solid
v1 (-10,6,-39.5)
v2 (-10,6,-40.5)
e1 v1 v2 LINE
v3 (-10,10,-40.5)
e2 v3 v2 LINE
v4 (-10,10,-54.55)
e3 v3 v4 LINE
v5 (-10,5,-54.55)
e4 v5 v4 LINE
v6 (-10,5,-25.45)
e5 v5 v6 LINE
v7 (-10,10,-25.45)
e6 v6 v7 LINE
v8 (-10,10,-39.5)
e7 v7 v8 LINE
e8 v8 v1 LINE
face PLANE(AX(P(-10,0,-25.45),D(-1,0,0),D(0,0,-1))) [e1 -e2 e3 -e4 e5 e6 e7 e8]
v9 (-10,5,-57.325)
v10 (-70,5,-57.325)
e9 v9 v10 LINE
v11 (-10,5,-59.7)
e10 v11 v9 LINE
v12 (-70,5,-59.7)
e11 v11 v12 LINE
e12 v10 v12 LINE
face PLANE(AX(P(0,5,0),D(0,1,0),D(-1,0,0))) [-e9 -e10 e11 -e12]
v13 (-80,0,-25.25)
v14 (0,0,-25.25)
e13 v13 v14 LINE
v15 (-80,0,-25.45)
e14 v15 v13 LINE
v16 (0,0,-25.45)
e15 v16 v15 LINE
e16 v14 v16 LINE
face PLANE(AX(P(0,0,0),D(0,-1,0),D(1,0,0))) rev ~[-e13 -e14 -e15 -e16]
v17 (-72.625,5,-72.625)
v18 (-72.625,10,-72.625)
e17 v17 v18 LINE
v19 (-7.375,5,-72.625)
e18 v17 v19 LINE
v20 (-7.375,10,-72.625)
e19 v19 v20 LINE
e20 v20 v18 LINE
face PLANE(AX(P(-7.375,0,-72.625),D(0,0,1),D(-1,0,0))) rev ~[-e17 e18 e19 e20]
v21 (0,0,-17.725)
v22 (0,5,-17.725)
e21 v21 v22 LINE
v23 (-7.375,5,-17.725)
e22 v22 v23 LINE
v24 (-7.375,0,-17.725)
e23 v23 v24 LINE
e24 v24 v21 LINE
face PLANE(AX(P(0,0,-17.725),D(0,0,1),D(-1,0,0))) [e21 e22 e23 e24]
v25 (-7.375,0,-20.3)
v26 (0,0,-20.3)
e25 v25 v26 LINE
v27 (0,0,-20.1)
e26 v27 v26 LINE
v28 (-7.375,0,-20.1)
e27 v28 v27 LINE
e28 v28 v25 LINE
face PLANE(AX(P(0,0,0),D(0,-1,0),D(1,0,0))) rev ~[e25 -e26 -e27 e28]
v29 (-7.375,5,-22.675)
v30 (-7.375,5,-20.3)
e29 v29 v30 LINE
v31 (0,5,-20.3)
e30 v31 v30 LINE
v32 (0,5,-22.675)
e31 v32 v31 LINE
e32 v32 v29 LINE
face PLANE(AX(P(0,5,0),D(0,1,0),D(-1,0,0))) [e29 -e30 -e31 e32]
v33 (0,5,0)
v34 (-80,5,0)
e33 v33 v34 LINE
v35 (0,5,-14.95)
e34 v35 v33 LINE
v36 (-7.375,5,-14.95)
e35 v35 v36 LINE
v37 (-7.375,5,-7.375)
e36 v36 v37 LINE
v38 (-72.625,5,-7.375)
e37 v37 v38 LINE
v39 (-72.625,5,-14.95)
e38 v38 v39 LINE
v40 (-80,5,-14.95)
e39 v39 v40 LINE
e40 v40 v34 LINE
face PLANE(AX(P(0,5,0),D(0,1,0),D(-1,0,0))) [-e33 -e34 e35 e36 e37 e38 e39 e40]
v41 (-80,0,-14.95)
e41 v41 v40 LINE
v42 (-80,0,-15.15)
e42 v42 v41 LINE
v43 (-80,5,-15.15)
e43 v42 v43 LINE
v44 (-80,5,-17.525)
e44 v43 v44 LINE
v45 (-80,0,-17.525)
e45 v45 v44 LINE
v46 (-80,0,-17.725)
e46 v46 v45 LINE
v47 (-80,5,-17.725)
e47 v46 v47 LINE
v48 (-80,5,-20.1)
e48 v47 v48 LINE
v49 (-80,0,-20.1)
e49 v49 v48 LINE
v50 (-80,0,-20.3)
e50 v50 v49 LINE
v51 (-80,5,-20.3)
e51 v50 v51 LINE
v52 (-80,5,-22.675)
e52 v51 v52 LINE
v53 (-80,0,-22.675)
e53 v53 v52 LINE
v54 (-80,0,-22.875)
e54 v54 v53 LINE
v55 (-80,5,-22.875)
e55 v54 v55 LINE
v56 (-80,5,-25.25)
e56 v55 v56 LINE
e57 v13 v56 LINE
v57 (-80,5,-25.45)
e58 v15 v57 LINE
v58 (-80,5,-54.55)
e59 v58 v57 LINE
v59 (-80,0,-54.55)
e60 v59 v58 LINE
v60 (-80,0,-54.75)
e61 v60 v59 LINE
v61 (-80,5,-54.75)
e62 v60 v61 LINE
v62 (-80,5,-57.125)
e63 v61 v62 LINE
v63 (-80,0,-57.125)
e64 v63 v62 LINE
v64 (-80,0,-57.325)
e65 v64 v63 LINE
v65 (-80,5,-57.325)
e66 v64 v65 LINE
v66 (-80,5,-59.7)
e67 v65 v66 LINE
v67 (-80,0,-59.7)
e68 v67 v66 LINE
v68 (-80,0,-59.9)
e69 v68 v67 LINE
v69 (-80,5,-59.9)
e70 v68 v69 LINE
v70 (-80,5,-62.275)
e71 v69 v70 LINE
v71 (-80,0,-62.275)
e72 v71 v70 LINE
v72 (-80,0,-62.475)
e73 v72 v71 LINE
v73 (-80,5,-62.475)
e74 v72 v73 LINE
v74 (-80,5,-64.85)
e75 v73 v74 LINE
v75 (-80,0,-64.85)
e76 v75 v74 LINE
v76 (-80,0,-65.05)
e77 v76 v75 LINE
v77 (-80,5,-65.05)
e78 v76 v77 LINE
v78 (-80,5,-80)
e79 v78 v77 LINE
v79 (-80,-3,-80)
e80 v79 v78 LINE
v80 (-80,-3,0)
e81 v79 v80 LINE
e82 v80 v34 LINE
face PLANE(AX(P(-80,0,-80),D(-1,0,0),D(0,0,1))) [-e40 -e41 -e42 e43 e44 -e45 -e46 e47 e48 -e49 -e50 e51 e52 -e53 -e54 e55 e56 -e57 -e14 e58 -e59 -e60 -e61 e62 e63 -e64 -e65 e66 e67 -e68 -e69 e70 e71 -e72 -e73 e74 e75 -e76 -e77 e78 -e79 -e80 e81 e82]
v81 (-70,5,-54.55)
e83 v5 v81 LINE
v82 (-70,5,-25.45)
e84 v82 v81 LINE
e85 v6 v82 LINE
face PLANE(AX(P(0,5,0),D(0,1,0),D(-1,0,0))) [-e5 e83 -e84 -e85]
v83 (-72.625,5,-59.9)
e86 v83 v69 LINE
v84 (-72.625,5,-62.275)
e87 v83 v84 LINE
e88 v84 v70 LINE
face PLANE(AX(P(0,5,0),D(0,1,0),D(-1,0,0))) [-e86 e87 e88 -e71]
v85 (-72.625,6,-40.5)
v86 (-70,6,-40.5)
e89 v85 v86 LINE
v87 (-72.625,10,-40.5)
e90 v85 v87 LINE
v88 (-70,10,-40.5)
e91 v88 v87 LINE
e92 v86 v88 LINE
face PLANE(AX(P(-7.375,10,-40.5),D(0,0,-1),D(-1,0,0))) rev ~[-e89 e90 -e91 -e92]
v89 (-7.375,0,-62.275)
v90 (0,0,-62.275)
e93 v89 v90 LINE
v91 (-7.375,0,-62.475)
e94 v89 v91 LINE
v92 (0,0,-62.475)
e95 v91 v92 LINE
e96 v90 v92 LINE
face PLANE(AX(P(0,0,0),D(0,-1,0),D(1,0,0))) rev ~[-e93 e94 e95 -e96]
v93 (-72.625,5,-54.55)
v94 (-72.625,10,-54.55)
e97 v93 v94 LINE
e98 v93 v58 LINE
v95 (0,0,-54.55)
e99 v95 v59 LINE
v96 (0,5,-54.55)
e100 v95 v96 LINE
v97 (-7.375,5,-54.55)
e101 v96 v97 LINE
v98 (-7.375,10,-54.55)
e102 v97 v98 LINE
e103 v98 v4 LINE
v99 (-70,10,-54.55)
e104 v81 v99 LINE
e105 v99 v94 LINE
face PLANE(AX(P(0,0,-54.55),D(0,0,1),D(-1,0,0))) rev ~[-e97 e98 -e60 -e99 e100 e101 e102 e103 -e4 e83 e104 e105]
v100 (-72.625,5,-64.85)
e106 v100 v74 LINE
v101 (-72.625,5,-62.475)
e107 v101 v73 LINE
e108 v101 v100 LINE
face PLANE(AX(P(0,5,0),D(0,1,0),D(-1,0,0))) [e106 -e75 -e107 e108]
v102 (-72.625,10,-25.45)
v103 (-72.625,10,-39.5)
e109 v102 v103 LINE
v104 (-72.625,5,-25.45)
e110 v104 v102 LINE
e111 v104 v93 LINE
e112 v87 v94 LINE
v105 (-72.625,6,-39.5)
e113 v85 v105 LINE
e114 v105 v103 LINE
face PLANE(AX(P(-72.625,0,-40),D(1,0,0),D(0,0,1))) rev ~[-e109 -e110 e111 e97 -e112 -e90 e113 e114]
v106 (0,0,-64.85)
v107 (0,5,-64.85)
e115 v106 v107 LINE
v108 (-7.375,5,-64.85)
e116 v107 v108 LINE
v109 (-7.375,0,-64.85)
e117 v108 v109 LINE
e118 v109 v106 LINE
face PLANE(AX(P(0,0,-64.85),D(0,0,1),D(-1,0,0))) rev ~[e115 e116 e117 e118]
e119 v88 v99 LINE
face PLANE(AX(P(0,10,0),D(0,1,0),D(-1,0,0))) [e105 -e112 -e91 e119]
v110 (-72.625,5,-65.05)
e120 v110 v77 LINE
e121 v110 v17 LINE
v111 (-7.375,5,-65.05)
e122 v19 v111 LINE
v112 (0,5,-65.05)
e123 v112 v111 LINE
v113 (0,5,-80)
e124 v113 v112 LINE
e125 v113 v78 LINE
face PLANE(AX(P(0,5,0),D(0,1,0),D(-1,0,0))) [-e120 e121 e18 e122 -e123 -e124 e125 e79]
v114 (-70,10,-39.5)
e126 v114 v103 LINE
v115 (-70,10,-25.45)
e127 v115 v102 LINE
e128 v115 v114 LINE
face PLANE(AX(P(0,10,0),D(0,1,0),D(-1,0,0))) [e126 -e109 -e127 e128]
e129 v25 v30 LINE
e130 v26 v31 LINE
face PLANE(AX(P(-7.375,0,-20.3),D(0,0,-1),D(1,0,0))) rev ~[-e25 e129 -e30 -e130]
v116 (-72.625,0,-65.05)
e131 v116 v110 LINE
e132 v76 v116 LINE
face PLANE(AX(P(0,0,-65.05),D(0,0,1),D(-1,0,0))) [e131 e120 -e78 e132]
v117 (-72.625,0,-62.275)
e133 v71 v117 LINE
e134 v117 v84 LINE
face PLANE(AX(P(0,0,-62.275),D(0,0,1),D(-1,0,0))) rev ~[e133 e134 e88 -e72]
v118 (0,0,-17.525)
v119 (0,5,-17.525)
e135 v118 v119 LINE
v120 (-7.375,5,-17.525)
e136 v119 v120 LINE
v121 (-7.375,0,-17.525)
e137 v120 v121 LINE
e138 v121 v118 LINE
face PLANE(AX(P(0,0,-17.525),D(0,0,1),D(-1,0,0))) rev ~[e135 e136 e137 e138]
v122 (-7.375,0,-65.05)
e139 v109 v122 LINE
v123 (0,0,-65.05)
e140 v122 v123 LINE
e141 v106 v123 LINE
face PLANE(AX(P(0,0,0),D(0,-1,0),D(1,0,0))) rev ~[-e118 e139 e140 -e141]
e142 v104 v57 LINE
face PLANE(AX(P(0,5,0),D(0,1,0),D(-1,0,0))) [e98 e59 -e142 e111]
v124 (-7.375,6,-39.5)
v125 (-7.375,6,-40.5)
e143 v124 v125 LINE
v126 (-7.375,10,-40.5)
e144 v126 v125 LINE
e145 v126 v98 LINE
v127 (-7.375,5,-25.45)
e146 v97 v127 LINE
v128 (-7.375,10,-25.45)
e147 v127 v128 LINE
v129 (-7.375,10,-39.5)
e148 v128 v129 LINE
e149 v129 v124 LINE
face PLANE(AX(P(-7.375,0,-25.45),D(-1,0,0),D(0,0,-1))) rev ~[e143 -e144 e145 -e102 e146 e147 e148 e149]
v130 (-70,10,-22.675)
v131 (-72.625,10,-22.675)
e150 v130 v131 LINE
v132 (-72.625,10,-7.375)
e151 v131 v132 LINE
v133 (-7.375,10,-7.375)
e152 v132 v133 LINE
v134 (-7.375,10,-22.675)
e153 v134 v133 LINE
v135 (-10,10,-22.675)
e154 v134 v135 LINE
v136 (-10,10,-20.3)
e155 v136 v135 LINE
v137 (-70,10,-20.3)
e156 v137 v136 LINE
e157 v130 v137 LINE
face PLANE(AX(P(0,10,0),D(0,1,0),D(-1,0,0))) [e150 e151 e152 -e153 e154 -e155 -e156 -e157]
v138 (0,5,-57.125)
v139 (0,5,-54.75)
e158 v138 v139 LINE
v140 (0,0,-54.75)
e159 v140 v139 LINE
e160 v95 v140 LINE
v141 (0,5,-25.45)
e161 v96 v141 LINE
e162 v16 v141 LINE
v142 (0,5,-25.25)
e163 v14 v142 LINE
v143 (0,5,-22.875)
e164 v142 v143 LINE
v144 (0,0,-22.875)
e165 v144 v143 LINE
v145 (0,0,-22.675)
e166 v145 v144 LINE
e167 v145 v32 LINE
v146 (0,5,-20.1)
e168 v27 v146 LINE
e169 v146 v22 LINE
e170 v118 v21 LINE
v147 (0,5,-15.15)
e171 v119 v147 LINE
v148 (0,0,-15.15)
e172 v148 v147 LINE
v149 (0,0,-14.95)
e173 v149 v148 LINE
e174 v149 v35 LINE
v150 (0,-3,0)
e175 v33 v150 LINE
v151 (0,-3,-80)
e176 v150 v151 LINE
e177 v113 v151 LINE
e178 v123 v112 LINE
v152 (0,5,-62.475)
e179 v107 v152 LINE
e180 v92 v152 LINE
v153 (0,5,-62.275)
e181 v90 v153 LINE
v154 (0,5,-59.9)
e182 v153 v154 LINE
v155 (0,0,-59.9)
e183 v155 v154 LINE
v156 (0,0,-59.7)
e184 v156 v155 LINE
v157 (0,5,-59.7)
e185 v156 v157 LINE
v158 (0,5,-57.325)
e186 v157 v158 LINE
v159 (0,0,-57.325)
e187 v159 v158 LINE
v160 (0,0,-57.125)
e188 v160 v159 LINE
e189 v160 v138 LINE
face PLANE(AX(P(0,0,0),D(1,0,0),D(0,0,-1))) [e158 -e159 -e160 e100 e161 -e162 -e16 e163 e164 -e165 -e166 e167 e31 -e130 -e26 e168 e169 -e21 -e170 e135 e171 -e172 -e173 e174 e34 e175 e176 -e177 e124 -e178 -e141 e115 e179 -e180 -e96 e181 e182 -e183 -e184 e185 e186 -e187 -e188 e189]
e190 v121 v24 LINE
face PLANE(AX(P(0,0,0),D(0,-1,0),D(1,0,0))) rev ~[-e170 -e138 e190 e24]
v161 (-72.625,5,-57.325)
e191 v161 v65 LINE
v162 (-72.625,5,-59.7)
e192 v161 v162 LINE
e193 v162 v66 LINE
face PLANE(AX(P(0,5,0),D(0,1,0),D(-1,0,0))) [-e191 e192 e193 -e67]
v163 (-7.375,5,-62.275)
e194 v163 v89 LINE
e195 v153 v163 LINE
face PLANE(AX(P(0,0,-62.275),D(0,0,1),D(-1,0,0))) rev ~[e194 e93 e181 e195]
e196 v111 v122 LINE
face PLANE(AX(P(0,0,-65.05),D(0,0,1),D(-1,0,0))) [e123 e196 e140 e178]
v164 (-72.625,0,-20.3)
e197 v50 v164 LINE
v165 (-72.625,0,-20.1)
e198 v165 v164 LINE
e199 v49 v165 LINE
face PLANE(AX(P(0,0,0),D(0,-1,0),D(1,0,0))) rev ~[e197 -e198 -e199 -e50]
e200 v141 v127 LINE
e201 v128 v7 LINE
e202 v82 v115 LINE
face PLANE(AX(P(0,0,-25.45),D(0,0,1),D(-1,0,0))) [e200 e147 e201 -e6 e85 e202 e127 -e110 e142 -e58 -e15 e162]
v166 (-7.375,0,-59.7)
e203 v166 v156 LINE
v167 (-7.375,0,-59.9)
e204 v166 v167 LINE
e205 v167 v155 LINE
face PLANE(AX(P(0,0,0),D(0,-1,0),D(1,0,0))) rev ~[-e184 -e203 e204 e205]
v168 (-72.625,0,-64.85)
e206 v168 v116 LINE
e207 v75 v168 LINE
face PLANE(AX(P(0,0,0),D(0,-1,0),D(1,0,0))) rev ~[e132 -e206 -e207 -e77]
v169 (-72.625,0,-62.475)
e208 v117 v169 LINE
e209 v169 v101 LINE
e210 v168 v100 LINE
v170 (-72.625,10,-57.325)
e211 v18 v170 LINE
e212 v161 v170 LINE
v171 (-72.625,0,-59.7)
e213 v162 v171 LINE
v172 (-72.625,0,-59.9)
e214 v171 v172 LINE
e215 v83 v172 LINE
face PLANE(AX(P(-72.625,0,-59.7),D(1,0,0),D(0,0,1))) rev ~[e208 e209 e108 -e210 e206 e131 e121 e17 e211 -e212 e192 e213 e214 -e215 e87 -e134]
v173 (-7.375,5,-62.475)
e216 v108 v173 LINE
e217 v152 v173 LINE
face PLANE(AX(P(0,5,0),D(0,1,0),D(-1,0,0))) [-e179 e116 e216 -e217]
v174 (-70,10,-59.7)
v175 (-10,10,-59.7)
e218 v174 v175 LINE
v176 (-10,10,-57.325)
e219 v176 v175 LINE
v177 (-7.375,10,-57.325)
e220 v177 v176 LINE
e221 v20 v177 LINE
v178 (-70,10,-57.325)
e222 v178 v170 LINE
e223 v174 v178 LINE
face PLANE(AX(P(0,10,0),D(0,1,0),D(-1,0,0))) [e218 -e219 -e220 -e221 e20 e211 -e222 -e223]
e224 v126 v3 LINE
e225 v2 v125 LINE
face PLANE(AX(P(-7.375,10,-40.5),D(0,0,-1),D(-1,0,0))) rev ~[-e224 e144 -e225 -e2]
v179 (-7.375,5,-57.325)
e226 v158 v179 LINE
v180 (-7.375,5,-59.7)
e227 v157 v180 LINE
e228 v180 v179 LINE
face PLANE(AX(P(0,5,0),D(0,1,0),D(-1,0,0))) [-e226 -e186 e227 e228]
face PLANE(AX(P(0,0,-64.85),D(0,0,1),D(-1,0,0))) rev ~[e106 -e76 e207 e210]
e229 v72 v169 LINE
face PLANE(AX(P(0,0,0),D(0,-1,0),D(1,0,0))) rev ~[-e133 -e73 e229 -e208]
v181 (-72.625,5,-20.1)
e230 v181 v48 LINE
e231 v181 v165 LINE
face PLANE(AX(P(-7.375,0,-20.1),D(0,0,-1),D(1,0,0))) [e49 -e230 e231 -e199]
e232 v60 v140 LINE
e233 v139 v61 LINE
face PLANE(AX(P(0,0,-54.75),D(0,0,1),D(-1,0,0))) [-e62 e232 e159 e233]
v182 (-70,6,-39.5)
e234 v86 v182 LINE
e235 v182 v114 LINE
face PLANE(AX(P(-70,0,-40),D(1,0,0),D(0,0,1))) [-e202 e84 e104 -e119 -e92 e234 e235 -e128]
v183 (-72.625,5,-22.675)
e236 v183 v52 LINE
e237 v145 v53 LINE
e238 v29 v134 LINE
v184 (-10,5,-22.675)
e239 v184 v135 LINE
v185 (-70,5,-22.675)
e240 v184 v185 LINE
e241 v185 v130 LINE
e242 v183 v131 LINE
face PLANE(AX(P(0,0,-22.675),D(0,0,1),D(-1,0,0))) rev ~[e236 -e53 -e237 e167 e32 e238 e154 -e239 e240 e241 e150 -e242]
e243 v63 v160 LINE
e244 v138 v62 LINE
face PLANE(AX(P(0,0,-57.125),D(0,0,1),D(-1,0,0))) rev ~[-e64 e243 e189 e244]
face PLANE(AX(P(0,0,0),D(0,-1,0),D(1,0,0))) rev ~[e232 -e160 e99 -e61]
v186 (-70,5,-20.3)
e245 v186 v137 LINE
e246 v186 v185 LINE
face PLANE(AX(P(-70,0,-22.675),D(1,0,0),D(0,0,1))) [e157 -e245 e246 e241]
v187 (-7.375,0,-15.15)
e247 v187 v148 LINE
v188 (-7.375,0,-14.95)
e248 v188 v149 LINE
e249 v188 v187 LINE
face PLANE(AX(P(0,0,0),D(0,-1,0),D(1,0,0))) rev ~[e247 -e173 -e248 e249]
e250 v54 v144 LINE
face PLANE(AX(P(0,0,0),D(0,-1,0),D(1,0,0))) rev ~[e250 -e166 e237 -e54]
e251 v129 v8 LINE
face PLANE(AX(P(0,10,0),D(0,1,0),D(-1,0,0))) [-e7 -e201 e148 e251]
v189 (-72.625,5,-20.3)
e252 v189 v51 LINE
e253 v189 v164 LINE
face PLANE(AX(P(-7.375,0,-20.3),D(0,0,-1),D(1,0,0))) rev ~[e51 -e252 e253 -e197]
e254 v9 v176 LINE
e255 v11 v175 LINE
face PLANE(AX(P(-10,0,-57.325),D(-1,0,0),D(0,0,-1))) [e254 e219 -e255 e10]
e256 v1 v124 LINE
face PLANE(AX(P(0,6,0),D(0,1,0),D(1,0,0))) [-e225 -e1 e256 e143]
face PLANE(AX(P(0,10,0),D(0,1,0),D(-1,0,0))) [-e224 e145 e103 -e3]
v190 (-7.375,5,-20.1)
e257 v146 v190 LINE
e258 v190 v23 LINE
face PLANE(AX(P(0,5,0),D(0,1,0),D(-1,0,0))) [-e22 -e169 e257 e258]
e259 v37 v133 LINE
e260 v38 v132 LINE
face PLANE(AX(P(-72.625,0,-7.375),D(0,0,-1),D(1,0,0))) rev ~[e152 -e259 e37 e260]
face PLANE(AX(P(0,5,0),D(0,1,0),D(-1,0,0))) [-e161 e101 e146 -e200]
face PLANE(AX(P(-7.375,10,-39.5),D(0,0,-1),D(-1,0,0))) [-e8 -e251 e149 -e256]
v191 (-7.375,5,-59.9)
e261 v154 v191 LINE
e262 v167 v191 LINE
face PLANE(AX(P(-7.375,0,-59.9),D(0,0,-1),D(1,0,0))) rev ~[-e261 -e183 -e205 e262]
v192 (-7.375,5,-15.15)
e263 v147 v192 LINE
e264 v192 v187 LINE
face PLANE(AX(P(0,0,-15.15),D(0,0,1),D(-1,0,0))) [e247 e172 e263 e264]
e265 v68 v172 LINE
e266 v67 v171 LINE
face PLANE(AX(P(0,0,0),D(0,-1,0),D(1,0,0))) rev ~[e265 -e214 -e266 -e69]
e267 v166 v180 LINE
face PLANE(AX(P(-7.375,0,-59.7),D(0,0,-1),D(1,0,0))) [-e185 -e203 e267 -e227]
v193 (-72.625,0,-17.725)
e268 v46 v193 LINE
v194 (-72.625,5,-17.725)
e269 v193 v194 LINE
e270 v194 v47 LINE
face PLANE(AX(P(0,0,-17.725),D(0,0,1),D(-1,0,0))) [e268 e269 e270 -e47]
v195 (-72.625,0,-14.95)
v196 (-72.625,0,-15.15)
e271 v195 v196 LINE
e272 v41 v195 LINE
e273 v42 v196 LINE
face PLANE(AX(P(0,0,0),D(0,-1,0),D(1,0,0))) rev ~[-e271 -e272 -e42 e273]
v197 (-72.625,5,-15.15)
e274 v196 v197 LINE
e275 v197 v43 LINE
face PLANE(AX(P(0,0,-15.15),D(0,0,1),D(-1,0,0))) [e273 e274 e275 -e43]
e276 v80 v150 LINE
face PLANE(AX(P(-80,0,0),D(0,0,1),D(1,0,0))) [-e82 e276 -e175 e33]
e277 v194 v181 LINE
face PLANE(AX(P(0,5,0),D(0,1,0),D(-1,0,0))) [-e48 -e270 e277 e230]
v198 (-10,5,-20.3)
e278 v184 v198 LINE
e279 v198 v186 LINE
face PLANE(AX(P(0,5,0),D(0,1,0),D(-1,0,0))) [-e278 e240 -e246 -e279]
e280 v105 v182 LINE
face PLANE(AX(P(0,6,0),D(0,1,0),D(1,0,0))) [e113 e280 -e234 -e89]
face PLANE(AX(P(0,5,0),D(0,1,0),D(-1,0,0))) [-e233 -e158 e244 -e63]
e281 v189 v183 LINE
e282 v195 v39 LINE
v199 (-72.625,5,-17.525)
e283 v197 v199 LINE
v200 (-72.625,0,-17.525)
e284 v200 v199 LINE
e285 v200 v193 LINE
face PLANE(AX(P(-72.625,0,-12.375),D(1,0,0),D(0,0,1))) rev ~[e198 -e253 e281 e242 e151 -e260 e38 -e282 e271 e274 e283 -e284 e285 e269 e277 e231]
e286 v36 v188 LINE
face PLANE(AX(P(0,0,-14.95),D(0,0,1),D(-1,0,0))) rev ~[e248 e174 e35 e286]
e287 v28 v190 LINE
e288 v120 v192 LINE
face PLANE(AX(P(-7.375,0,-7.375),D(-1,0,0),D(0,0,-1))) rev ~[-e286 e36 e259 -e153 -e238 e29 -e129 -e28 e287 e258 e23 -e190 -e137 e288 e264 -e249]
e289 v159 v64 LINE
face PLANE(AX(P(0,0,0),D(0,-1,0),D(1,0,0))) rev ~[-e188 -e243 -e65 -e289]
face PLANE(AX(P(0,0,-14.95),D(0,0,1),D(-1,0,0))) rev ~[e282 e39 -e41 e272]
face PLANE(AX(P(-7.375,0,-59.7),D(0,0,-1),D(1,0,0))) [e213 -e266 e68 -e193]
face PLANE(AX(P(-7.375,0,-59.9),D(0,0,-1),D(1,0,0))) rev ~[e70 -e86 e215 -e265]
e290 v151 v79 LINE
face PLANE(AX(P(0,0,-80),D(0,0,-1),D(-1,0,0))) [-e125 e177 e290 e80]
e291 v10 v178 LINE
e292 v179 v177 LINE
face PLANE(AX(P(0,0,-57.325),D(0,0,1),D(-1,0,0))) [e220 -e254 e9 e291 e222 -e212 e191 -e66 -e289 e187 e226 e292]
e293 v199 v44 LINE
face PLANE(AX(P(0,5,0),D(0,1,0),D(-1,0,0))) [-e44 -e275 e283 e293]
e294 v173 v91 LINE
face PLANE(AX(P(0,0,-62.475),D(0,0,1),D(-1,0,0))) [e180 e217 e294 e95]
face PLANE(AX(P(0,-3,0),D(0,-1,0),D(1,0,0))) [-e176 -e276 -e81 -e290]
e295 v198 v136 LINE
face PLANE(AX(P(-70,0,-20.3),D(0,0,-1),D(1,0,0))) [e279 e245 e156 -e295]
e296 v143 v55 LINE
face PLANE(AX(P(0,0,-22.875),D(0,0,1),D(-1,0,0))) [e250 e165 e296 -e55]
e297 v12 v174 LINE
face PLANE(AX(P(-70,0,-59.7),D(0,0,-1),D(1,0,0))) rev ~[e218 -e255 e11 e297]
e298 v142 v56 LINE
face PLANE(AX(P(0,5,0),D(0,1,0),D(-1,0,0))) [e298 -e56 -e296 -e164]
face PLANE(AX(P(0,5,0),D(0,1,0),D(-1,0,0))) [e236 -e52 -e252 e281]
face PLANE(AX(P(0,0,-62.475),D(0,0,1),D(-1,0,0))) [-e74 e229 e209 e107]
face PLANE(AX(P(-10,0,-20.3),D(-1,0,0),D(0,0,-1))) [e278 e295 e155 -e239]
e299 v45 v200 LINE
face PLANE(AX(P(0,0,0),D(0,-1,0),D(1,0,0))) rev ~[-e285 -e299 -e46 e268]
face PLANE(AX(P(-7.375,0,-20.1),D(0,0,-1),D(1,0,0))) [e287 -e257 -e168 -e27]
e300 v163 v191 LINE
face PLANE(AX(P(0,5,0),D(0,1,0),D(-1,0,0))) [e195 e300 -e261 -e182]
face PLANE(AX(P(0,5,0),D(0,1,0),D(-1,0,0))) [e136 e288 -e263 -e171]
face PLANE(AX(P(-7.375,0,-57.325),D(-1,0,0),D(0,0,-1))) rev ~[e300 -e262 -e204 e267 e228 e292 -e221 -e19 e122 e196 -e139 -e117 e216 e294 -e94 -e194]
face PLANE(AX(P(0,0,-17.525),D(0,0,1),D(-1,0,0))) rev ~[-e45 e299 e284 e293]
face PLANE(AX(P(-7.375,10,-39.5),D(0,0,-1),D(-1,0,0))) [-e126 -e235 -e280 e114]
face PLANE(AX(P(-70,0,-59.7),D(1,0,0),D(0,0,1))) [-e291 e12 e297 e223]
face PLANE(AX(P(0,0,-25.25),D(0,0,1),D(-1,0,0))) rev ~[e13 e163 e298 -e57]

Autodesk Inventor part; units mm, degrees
ref_plane "YZ Plane" through (0, 0, 0) normal (1, 0, 0) x (0, 1, 0)
ref_plane "XZ Plane" through (0, 0, 0) normal (0, 1, 0) x (-1, 0, 0)
ref_plane "XY Plane" through (0, 0, 0) normal (0, 0, 1) x (1, 0, 0)
sketch "Boceto1" plane through (0, 0, 0) normal (0, 1, 0) x (-1, 0, 0)
  line L0 (0, 0) -> (80, 0)
  line L1 (80, 0) -> (80, -80)
  line L2 (80, -80) -> (0, -80)
  line L3 (0, -80) -> (0, 0)
  line L4 (10, -70) -> (70, -70)
  line L5 (70, -70) -> (70, -10)
  line L6 (70, -10) -> (10, -10)
  line L7 (10, -10) -> (10, -70)
  line L8 (0, -12.375) -> (80, -12.375)
  line L9 (0, -14.95) -> (80, -14.95)
  line L10 (0, -17.525) -> (80, -17.525)
  line L11 (80, -20.1) -> (0, -20.1)
  line L12 (0, -22.675) -> (80, -22.675)
  line L13 (0, -12.575) -> (80, -12.575)
  line L14 (0, -15.15) -> (80, -15.15)
  line L15 (0, -17.725) -> (80, -17.725)
  line L16 (80, -20.3) -> (0, -20.3)
  line L17 (0, -22.875) -> (80, -22.875)
  line L18 (0, -25.25) -> (80, -25.25)
  line L19 (0, -25.45) -> (80, -25.45)
  line L20 (10, -40) -> (80, -40)
  line L21 (0, -67.625) -> (80, -67.625)
  line L22 (0, -65.05) -> (80, -65.05)
  line L23 (0, -62.475) -> (80, -62.475)
  line L24 (80, -59.9) -> (0, -59.9)
  line L25 (0, -57.325) -> (80, -57.325)
  line L26 (0, -67.425) -> (80, -67.425)
  line L27 (0, -64.85) -> (80, -64.85)
  line L28 (0, -62.275) -> (80, -62.275)
  line L29 (80, -59.7) -> (0, -59.7)
  line L30 (0, -57.125) -> (80, -57.125)
  line L31 (0, -54.75) -> (80, -54.75)
  line L32 (0, -54.55) -> (80, -54.55)
  line L33 (72.625, -7.375) -> (7.375, -7.375)
  line L34 (7.375, -7.375) -> (7.375, -72.625)
  line L35 (7.375, -72.625) -> (72.625, -72.625)
  line L36 (72.625, -72.625) -> (72.625, -7.375)
  line L37 (7.375, 0) -> (0, 0)
  line L38 (7.375, -80) -> (0, -80)
  point P0 (10, -12.375)
  point P1 (70, -12.375)
  point P2 (10, -14.95)
  point P3 (70, -14.95)
  point P4 (10, -17.525)
  point P5 (70, -17.525)
  point P6 (70, -20.1)
  point P7 (10, -20.1)
  point P8 (10, -22.675)
  point P9 (70, -22.675)
  point P10 (10, -12.575)
  point P11 (70, -12.575)
  point P12 (10, -15.15)
  point P13 (70, -15.15)
  point P14 (10, -17.725)
  point P15 (70, -17.725)
  point P16 (70, -20.3)
  point P17 (10, -20.3)
  point P18 (10, -22.875)
  point P19 (70, -22.875)
  point P20 (10, -25.25)
  point P21 (70, -25.25)
  point P22 (10, -25.45)
  point P23 (70, -25.45)
  point P24 (10, -67.625)
  point P25 (70, -67.625)
  point P26 (10, -65.05)
  point P27 (70, -65.05)
  point P28 (10, -62.475)
  point P29 (70, -62.475)
  point P30 (70, -59.9)
  point P31 (10, -59.9)
  point P32 (10, -57.325)
  point P33 (70, -57.325)
  point P34 (10, -67.425)
  point P35 (70, -67.425)
  point P36 (10, -64.85)
  point P37 (70, -64.85)
  point P38 (10, -62.275)
  point P39 (70, -62.275)
  point P40 (70, -59.7)
  point P41 (10, -59.7)
  point P42 (10, -57.125)
  point P43 (70, -57.125)
  point P44 (10, -54.75)
  point P45 (70, -54.75)
  point P46 (10, -54.55)
  point P47 (70, -54.55)
  point P48 (72.625, -12.375)
  point P49 (7.375, -12.375)
  point P50 (72.625, -54.55)
  point P51 (72.625, -25.45)
  point P52 (70, -25.45)
  point P53 (70, -54.55)
  point P54 (7.375, -25.45)
  point P55 (7.375, -54.55)
  point P56 (10, -54.55)
  point P57 (10, -25.45)
  point P58 (10, -67.625)
  point P59 (7.375, -67.625)
  point P60 (72.625, -67.625)
  point P61 (70, -67.625)
  point P62 (7.375, -14.95)
  point P63 (72.625, -14.95)
  point P64 (72.625, -65.05)
  point P65 (70, -65.05)
  point P66 (10, -65.05)
  point P67 (7.375, -65.05)
  point P68 (70, -67.425)
  point P69 (10, -67.425)
  point P70 (10, -12.575)
  point P71 (70, -12.575)
  point P72 (72.625, -64.85)
  point P73 (7.375, -64.85)
  point P74 (7.375, -15.15)
  point P75 (70, -15.15)
  point P76 (7.375, -62.475)
  point P77 (10, -64.85)
  point P78 (10, -62.475)
  point P79 (72.625, -62.475)
  point P80 (70, -62.475)
  point P81 (70, -64.85)
  point P82 (7.375, -17.525)
  point P83 (10, -15.15)
  point P84 (72.625, -17.525)
  point P85 (72.625, -20.1)
  point P86 (7.375, -20.1)
  point P87 (72.625, -59.9)
  point P88 (70, -59.9)
  point P89 (70, -62.275)
  point P90 (10, -62.275)
  point P91 (10, -59.9)
  point P92 (7.375, -59.9)
  point P93 (10, -17.725)
  point P94 (70, -17.725)
  point P95 (72.625, -57.325)
  point P96 (70, -57.325)
  point P97 (70, -59.7)
  point P98 (10, -59.7)
  point P99 (10, -57.325)
  point P100 (7.375, -57.325)
  point P101 (7.375, -22.675)
  point P102 (10, -20.3)
  point P103 (70, -20.3)
  point P104 (72.625, -22.675)
  dimension "d5" = 10
  dimension "d0" = 80
  dimension "d1" = 80
  dimension "d2" = 60
  dimension "d3" = 60
  dimension "d4" = 10
  dimension "d6" = 2.375
  dimension "d7" = 0.2
  dimension "d8" = 2.375
  dimension "d9" = 0.2
  dimension "d10" = 0.2
  dimension "d11" = 0.2
  dimension "d12" = 0.2
  dimension "d13" = 2.375
  dimension "d14" = 2.375
  dimension "d15" = 2.375
  dimension "d16" = 2.375
  dimension "d17" = 0.2
  dimension "d35" = 5
extrude "Extrusión1" add sketch "Boceto1" along normal blind 5 contours L0 L1 L8 L36 L33 L34 L3 | L8 L34 L13 L3 | L13 L34 L9 L3 | L34 L33 L36 L8 L5 L6 L7 | L8 L7 L13 L34 | L1 L13 L36 L8 | L13 L7 L9 L34 | L8 L5 L13 L7 | L7 L6 L5 L8 | L1 L9 L36 L13 | L36 L13 L5 L8 | L14 L34 L10 L3 | L13 L5 L9 L7 | L36 L9 L5 L13 | L14 L7 L10 L34 | L1 L10 L36 L14 | L15 L34 L11 L3 | L14 L5 L10 L7 | L36 L10 L5 L14 | L15 L7 L11 L34 | L1 L11 L36 L15 | L16 L34 L12 L3 | L15 L5 L11 L7 | L36 L11 L5 L15 | L16 L7 L12 L34 | L1 L12 L36 L16 | L17 L34 L18 L3 | L16 L5 L12 L7 | L36 L12 L5 L16 | L17 L7 L18 L34 | L1 L18 L36 L17 | L19 L34 L32 L3 | L17 L5 L18 L7 | L36 L18 L5 L17 | L19 L7 L32 L34 | L1 L20 L36 L19 | L31 L34 L30 L3 | L19 L5 L20 L7 | L1 L32 L36 L20 | L36 L20 L5 L19 | L31 L7 L30 L34 | L7 L20 L5 L32 | L36 L32 L5 L20 | L25 L34 L29 L3 | L31 L5 L30 L7 | L1 L30 L36 L31 | L25 L7 L29 L34 | L31 L36 L30 L5 | L24 L34 L28 L3 | L25 L5 L29 L7 | L1 L29 L36 L25 | L24 L7 L28 L34 | L25 L36 L29 L5 | L23 L34 L27 L3 | L24 L5 L28 L7 | L1 L28 L36 L24 | L23 L7 L27 L34 | L24 L36 L28 L5 | L22 L34 L26 L3 | L23 L5 L27 L7 | L1 L27 L36 L23 | L26 L34 L21 L3 | L22 L7 L26 L34 | L23 L36 L27 L5 | L21 L34 L35 L36 L1 L2 L3 | L26 L7 L21 L34 | L22 L5 L26 L7 | L1 L26 L36 L22 | L21 L7 L4 L5 L36 L35 L34 | L26 L5 L21 L7 | L22 L36 L26 L5 | L1 L21 L36 L26 | L21 L5 L4 L7 | L26 L36 L21 L5
sketch "Boceto2" plane through (0, 0, 0) normal (0, -1, 0) x (1, 0, 0)
  line L0 (0, -80) -> (-80, -80) projected
  line L1 (-80, 0) -> (0, 0) projected
  line L2 (-80, -80) -> (-80, 0)
  line L3 (-80, 0) -> (0, 0)
  line L4 (-80, -65.05) -> (0, -65.05) construction
  line L5 (0, 0) -> (0, -80)
  line L6 (-80, -80) -> (0, -80)
extrude "Extrusión4" add sketch "Boceto2" along normal blind 3
extrude "Extrusión5" add sketch "Boceto1" along normal blind 10 contours L34 L33 L36 L8 L5 L6 L7 | L8 L7 L13 L34 | L13 L7 L9 L34 | L8 L5 L13 L7 | L7 L6 L5 L8 | L36 L13 L5 L8 | L9 L7 L14 L34 | L13 L5 L9 L7 | L36 L9 L5 L13 | L14 L7 L10 L34 | L9 L5 L14 L7 | L36 L14 L5 L9 | L10 L7 L15 L34 | L14 L5 L10 L7 | L36 L10 L5 L14 | L15 L7 L11 L34 | L10 L5 L15 L7 | L36 L15 L5 L10 | L11 L7 L16 L34 | L15 L5 L11 L7 | L36 L11 L5 L15 | L16 L7 L12 L34 | L11 L5 L16 L7 | L36 L16 L5 L11 | L36 L12 L5 L16 | L19 L7 L32 L34 | L36 L20 L5 L19 | L36 L32 L5 L20 | L25 L7 L29 L34 | L29 L7 L24 L34 | L24 L7 L28 L34 | L29 L5 L24 L7 | L25 L36 L29 L5 | L28 L7 L23 L34 | L24 L5 L28 L7 | L29 L36 L24 L5 | L23 L7 L27 L34 | L28 L5 L23 L7 | L24 L36 L28 L5 | L27 L7 L22 L34 | L23 L5 L27 L7 | L28 L36 L23 L5 | L22 L7 L26 L34 | L27 L5 L22 L7 | L23 L36 L27 L5 | L26 L7 L21 L34 | L22 L5 L26 L7 | L27 L36 L22 L5 | L21 L7 L4 L5 L36 L35 L34 | L26 L5 L21 L7 | L22 L36 L26 L5 | L21 L5 L4 L7 | L26 L36 L21 L5
sketch "Boceto3" plane through (0, 10, 0) normal (0, 1, 0) x (1, 0, 0)
  line L0 (-7.375, 25.45) -> (-7.375, 54.55) projected
  line L1 (-7.375, 40) -> (-86.5517, 40)
  line L2 (-5, 39.5) -> (-84.1767, 39.5)
  line L3 (-5, 40.5) -> (-84.1767, 40.5)
  line L4 (-10, 54.55) -> (-10, 25.45) projected
  line L5 (-5, 40.5) -> (-5, 39.5)
  line L6 (-84.1767, 40.5) -> (-84.1767, 39.5)
  point P0 (0, 0)
  point P1 (-10, 40)
  point P2 (-10, 39.5)
  point P3 (-10, 40.5)
  point P4 (-7.375, 39.5)
  point P5 (-7.375, 40.5)
  dimension "d31" = 0.5
  dimension "d32" = 0.5
extrude "Extrusión6" cut sketch "Boceto3" against normal blind 4 contours L2 L4 L1 L0 | L1 L4 L3 L0 | L2 L6 L1 L4 | L1 L6 L3 L4
equation "\"d8\" = d6"
equation "\"d9\" = d7"
equation "\"d10\" = d9"
equation "\"d11\" = d7"
equation "\"d12\" = d7"
equation "\"d13\" = d6"
equation "\"d14\" = d6"
equation "\"d15\" = d6"
equation "\"d16\" = d6"
equation "\"d17\" = d7"
properties part number "Cortador Ancho PDMS4"
